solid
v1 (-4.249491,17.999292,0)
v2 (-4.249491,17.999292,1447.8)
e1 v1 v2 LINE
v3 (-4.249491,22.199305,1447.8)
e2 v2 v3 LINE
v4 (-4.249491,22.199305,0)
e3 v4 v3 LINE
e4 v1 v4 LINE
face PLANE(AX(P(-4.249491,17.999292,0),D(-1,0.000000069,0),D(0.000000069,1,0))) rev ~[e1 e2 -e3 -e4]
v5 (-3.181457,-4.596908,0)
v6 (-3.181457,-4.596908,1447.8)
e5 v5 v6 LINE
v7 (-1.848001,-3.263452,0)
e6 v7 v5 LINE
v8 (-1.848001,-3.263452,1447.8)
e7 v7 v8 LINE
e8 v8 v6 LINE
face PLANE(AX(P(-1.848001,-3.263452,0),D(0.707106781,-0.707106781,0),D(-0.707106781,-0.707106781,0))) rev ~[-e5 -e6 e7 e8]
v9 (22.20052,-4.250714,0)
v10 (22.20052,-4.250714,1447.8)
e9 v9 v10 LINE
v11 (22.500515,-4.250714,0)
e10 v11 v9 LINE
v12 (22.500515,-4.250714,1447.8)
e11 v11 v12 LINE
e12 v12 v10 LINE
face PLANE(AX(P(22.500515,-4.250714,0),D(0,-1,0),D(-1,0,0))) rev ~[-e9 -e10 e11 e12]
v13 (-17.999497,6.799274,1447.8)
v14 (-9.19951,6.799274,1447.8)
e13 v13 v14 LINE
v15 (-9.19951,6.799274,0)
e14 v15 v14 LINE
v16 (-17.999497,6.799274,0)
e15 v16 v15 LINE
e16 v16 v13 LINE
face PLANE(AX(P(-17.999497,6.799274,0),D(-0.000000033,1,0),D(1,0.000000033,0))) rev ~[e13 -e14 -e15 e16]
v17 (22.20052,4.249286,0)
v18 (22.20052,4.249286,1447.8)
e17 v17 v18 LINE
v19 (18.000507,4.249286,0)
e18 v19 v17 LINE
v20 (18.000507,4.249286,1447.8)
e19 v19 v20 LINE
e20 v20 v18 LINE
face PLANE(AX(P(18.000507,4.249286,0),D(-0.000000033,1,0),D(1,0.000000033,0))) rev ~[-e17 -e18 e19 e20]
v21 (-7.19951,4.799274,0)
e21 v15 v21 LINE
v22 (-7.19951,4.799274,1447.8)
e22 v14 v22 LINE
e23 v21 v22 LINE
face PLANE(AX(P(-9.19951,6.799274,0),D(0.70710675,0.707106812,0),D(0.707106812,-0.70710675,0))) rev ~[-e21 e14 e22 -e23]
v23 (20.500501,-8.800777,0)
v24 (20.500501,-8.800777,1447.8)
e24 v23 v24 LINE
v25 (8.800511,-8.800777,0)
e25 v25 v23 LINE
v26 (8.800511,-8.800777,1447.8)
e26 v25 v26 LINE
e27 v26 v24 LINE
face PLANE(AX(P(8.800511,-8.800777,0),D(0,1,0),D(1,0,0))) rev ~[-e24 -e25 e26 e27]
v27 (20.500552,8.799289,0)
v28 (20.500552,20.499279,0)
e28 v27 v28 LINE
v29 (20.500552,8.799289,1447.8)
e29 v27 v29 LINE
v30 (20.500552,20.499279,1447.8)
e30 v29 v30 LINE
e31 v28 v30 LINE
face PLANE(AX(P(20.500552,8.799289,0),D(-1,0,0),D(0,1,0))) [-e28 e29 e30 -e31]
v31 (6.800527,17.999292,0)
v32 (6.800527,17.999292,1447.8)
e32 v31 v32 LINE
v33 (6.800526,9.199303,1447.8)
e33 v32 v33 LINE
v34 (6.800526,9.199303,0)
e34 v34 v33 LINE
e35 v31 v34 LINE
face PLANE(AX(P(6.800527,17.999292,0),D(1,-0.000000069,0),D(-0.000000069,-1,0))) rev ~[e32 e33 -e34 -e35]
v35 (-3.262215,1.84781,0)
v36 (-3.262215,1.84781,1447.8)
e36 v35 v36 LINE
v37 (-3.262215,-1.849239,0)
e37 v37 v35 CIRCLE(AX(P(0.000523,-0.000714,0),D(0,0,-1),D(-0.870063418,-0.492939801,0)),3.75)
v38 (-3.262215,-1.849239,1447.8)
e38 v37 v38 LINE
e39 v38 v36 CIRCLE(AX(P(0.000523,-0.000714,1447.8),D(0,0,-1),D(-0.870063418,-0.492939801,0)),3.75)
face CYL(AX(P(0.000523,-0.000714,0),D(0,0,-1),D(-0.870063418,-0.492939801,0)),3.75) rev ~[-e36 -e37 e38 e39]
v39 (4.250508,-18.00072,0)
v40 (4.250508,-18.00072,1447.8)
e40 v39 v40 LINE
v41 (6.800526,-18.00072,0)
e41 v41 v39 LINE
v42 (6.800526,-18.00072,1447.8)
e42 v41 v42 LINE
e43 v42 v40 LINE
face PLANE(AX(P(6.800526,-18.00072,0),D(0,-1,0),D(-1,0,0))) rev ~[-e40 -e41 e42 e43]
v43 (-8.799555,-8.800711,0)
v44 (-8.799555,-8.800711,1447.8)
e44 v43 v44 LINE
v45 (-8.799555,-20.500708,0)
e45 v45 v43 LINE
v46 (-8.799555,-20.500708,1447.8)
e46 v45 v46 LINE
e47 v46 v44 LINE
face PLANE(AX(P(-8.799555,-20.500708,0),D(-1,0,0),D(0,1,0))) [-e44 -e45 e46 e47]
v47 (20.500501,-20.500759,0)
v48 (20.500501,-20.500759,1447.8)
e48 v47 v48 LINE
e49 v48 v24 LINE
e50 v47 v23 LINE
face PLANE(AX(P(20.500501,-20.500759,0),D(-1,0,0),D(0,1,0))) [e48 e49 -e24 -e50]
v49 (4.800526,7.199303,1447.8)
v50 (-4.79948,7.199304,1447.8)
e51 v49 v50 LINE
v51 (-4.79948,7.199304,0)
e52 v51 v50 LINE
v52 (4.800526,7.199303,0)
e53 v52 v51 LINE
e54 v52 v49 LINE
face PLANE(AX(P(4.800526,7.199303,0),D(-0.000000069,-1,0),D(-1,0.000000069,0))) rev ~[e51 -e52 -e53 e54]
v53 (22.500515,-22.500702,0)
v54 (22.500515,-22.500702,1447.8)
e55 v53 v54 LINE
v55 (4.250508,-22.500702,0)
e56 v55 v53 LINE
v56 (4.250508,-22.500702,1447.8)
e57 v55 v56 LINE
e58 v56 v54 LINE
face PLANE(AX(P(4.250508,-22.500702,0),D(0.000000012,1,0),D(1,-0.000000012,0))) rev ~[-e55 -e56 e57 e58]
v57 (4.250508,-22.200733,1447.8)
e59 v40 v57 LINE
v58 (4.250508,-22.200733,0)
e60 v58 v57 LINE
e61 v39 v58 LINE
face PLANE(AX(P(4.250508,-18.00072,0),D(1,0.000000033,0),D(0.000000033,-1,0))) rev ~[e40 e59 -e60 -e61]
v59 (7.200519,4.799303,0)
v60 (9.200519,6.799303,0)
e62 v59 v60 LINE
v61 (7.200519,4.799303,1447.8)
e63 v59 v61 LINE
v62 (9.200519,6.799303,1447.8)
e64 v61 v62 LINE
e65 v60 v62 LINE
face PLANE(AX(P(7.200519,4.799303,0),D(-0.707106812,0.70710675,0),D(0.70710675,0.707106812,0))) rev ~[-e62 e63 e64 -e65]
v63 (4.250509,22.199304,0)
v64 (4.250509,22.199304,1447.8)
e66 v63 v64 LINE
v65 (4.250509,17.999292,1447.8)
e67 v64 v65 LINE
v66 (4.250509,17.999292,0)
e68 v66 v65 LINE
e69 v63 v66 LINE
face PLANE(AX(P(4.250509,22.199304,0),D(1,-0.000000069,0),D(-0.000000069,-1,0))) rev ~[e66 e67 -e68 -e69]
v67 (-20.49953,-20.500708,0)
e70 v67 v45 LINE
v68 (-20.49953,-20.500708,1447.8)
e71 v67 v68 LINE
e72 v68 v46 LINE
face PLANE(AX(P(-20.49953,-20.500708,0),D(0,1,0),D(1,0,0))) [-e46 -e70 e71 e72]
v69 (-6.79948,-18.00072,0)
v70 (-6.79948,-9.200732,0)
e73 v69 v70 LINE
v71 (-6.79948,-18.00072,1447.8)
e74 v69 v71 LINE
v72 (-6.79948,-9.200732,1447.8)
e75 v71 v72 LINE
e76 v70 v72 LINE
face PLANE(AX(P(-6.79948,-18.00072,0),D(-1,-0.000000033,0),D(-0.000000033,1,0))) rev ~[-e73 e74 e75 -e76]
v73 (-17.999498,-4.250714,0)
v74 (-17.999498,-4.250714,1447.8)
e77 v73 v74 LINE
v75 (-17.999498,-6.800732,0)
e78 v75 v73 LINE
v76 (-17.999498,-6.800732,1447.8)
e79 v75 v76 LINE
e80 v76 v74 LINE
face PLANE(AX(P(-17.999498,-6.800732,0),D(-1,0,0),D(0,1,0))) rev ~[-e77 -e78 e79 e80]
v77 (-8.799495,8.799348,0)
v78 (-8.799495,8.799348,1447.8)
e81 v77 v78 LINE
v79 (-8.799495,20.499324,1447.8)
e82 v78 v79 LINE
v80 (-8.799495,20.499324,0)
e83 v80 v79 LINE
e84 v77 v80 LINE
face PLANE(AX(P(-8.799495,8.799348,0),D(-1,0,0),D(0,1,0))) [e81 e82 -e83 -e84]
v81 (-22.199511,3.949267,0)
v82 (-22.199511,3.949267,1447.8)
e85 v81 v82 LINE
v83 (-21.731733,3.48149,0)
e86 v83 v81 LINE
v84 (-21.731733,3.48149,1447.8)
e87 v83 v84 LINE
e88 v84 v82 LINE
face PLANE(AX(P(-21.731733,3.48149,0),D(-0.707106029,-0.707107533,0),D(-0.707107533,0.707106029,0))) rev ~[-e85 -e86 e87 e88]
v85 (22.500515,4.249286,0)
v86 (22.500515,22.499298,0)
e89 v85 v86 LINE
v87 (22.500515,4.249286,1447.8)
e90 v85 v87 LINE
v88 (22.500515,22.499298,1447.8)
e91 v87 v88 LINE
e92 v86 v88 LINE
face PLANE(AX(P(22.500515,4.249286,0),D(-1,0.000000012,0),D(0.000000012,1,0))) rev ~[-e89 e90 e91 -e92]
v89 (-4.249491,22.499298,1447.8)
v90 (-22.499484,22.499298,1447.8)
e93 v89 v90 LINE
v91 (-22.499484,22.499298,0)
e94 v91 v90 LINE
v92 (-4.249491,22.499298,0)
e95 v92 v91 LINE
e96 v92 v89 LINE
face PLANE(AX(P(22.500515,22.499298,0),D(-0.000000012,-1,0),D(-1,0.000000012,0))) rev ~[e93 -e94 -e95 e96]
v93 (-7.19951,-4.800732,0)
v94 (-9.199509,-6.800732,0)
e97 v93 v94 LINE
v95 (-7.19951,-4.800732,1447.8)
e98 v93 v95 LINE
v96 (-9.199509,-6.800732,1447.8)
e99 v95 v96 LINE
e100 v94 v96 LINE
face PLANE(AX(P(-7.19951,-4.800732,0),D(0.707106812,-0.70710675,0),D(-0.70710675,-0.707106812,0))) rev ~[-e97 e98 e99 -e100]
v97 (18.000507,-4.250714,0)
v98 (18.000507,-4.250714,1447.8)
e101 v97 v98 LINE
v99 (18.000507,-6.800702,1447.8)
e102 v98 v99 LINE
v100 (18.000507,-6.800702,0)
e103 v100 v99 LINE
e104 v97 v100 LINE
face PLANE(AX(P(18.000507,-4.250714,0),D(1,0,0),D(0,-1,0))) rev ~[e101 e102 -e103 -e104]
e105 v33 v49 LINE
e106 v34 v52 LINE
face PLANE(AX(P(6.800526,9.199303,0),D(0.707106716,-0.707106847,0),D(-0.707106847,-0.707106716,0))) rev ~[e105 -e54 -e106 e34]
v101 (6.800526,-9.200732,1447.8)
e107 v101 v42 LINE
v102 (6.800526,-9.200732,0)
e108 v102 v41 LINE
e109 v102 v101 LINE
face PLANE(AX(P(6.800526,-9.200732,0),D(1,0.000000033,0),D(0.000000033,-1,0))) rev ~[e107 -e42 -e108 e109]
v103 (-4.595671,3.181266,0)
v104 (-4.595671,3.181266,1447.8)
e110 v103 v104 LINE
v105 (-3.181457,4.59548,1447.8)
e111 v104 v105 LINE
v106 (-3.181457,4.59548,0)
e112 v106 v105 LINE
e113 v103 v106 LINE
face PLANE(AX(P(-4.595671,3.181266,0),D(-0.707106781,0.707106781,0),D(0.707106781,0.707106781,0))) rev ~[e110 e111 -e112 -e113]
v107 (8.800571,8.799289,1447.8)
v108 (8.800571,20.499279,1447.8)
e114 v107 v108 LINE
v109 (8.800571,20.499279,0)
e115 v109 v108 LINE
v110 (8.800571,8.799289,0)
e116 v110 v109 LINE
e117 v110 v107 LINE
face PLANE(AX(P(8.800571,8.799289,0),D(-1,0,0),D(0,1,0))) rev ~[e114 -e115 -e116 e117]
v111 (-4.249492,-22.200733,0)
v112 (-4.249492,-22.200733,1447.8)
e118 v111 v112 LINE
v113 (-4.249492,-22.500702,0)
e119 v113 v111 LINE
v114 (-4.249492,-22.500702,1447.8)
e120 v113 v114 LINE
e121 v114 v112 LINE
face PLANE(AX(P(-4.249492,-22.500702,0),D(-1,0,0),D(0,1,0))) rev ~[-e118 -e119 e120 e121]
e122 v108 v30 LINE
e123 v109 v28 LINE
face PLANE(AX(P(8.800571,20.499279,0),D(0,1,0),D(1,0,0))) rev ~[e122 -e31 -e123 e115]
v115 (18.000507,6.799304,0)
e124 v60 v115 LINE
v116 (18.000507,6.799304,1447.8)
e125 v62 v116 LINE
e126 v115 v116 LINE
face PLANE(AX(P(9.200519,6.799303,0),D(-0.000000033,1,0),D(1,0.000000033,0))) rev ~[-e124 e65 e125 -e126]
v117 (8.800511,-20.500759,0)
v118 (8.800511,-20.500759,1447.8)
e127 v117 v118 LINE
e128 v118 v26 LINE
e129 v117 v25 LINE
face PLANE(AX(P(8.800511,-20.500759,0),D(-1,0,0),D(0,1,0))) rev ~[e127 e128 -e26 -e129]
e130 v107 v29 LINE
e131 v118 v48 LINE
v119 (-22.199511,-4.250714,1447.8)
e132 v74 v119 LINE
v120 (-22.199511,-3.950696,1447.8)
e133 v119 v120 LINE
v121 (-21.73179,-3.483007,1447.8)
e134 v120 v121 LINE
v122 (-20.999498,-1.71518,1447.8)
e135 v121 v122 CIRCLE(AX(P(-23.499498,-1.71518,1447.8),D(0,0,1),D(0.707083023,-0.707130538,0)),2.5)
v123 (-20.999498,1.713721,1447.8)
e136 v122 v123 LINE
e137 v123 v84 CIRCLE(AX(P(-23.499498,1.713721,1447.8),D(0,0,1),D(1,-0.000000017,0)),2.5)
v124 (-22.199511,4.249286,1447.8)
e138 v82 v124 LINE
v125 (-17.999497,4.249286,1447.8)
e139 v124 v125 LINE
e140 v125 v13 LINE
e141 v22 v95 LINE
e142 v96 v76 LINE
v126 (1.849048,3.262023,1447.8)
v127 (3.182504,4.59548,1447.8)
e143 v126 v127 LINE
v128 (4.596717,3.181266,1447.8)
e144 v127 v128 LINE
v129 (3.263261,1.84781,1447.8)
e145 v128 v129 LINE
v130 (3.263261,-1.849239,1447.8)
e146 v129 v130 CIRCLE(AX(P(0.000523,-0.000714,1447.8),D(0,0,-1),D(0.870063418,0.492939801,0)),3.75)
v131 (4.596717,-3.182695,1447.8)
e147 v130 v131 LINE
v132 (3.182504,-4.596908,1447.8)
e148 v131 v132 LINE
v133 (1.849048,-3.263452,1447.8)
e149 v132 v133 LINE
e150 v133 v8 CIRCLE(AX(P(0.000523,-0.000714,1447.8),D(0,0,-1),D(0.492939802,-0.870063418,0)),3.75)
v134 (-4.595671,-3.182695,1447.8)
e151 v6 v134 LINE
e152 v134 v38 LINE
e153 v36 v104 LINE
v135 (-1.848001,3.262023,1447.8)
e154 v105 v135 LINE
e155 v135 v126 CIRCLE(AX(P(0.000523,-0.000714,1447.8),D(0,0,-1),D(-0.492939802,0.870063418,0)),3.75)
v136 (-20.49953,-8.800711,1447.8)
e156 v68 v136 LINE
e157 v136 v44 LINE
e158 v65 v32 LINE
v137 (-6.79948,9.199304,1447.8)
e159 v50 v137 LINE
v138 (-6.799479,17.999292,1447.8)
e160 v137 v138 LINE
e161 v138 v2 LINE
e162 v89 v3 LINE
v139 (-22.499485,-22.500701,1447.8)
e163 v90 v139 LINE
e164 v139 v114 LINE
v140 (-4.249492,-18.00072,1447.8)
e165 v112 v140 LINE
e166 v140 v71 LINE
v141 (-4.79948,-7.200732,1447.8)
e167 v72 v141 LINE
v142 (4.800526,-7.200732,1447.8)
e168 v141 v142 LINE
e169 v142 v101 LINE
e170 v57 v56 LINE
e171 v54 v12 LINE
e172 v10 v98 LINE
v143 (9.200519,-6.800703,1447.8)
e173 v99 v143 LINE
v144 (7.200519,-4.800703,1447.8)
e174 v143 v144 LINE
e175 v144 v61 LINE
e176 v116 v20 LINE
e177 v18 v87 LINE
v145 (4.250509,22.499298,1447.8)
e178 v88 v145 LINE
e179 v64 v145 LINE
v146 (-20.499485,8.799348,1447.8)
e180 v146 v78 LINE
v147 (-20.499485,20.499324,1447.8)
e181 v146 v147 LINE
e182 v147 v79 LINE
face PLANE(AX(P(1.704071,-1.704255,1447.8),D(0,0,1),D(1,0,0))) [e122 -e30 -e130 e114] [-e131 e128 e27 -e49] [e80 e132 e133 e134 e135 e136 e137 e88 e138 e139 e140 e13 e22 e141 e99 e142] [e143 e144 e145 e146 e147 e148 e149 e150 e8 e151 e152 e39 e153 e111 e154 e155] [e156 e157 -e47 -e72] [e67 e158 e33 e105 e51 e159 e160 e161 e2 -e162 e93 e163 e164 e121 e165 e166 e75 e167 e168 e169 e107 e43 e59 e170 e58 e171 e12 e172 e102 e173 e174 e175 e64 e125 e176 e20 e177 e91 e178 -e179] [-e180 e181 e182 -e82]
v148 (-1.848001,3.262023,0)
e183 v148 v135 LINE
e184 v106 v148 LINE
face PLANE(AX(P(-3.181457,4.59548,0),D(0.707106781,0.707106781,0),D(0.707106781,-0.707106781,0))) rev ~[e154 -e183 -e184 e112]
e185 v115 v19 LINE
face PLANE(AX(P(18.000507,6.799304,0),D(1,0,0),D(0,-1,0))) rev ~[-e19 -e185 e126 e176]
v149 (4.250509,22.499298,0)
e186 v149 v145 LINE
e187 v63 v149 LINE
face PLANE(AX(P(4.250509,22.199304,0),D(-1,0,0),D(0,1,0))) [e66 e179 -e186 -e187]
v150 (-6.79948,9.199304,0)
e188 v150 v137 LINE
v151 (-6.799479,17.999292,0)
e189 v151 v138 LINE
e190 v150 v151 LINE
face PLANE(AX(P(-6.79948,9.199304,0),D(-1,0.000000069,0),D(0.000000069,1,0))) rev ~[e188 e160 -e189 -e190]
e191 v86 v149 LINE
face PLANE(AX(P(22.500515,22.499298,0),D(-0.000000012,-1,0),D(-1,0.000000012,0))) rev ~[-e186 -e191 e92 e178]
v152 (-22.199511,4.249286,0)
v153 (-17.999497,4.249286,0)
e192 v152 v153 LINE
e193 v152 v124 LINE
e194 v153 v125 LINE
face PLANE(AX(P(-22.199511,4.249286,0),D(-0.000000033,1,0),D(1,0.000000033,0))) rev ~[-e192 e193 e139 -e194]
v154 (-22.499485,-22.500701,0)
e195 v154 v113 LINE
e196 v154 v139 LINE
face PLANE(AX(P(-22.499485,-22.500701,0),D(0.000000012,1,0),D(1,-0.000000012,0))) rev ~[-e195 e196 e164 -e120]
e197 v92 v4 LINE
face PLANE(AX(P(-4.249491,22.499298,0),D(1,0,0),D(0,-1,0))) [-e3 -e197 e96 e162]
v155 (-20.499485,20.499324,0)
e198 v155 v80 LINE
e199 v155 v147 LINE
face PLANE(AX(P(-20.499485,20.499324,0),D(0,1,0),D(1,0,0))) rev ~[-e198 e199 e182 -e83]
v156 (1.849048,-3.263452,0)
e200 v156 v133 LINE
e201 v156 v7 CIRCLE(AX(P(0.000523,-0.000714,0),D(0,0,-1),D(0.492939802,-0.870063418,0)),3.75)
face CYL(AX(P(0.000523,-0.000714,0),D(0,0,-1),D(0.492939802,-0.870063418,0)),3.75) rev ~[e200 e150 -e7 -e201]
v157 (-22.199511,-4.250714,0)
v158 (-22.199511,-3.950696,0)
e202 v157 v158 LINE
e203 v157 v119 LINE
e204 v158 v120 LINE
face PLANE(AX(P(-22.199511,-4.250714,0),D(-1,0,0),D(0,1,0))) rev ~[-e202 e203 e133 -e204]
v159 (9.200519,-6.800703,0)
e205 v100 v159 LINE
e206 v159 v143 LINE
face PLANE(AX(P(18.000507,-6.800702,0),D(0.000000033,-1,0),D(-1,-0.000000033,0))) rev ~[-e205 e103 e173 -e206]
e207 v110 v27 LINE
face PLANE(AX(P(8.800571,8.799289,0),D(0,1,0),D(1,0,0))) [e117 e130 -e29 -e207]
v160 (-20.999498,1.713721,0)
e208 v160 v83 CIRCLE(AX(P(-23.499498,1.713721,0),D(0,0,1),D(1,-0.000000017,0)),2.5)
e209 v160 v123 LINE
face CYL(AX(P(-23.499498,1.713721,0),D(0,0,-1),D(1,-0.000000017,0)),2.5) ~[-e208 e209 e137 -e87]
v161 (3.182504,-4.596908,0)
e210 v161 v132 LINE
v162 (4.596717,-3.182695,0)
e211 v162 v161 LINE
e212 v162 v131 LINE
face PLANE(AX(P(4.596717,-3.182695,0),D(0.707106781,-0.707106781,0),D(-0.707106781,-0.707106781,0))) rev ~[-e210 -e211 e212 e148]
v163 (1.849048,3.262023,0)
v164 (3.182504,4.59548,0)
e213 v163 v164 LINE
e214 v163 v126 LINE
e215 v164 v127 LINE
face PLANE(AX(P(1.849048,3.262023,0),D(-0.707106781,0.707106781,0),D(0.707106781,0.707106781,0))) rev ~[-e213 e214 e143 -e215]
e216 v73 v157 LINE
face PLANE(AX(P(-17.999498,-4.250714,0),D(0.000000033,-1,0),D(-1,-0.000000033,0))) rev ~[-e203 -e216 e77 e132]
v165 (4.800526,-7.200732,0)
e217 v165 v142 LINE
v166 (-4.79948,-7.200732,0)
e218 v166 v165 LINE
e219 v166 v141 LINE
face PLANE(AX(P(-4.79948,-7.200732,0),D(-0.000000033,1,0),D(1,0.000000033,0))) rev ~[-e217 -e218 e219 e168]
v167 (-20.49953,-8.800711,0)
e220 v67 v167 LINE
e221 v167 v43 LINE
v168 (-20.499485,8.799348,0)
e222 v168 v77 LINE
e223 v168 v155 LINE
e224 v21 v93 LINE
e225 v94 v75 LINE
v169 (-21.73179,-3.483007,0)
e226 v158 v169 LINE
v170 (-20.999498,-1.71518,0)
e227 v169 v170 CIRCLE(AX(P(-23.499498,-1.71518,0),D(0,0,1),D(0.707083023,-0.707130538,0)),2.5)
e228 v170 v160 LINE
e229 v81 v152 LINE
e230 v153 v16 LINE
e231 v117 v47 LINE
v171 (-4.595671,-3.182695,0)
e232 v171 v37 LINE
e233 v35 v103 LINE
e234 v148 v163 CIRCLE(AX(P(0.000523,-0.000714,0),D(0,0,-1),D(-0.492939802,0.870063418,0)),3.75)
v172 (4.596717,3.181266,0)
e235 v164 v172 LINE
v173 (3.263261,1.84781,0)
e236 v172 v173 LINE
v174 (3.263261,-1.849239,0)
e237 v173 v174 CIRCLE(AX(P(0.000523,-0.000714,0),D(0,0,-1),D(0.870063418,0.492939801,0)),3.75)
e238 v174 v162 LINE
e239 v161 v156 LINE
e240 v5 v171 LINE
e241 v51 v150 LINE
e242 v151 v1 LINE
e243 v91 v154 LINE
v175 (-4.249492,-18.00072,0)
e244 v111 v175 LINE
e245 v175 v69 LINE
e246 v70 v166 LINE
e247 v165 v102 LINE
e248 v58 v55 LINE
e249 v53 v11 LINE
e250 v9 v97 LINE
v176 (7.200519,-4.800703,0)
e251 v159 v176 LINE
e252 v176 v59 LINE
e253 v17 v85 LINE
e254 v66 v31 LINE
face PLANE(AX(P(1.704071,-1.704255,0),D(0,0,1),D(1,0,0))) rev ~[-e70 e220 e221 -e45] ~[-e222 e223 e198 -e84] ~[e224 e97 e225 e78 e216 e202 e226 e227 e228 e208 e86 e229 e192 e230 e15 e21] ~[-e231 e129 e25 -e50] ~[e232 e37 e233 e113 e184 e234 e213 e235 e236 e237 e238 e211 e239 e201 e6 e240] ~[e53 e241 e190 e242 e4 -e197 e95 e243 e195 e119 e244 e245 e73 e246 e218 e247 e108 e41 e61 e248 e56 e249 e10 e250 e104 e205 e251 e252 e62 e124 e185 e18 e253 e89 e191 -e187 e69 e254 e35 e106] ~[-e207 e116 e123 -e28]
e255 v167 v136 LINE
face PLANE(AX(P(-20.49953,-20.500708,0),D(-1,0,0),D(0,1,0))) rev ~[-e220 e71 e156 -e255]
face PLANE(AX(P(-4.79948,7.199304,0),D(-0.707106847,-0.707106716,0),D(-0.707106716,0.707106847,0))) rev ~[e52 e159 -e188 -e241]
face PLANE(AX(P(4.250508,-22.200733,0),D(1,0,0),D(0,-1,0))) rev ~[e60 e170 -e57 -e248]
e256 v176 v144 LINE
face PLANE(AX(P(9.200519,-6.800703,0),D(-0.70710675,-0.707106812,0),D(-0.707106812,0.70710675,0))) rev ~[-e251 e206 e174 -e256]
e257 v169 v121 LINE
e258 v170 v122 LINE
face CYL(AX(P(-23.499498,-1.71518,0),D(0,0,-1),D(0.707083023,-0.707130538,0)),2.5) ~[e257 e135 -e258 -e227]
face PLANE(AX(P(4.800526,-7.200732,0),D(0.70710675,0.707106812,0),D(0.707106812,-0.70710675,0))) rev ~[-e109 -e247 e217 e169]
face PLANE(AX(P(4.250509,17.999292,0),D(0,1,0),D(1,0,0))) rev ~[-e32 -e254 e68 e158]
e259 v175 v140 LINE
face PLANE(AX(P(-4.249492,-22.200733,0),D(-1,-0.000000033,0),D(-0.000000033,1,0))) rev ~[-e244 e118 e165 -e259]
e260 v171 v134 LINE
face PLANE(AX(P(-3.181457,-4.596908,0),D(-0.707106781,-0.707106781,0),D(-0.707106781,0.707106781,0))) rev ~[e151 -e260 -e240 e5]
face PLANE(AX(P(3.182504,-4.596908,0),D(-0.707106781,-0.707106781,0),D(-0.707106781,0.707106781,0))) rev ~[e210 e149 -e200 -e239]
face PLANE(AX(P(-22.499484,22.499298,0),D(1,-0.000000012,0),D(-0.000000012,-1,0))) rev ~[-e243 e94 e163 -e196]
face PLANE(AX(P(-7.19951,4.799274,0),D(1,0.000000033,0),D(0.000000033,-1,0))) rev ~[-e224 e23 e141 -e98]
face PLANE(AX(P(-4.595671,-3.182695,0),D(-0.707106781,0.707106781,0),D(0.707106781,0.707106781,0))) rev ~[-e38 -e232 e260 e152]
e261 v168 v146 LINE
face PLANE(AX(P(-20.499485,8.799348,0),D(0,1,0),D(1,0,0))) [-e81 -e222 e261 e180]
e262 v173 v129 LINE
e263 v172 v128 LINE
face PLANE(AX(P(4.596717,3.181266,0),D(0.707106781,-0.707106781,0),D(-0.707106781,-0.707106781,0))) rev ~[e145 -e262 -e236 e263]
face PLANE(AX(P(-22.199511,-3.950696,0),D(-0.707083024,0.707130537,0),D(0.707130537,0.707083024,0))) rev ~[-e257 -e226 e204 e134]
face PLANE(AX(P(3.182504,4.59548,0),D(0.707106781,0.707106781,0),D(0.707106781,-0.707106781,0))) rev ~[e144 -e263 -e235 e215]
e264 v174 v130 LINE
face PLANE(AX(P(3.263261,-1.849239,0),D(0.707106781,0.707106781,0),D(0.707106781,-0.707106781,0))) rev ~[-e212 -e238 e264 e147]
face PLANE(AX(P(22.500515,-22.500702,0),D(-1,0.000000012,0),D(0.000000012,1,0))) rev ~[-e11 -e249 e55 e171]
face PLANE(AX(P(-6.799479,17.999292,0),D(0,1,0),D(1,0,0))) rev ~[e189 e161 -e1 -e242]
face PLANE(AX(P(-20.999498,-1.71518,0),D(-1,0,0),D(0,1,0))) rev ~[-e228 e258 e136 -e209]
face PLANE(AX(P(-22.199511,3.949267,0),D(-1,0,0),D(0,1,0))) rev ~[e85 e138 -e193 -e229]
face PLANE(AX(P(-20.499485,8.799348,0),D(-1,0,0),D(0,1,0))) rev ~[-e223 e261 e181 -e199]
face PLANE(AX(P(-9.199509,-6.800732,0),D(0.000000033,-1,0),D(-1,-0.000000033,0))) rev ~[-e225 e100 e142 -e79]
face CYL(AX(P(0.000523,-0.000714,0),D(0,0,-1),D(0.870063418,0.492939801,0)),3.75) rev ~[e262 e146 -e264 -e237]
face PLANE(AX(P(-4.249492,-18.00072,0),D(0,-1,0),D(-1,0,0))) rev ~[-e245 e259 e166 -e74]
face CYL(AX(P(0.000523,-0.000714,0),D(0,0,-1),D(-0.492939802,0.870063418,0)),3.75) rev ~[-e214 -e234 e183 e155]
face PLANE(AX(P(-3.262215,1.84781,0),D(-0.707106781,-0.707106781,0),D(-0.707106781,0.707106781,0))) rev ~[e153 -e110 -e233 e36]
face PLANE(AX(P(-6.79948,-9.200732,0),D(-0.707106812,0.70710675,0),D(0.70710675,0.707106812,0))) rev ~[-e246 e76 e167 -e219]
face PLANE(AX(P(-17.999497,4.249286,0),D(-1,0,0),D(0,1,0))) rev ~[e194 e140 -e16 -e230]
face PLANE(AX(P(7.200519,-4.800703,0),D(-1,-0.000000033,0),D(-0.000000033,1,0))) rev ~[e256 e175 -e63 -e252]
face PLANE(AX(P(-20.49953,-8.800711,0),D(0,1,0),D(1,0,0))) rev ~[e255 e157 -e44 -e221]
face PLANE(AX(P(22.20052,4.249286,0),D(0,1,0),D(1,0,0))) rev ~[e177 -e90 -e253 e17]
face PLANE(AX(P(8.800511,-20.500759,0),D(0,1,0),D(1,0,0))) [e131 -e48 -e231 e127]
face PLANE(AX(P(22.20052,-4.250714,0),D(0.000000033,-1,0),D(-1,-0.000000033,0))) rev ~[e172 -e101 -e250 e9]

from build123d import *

# Parameters (mm, degrees)
SKETCH1_W           = 11.699975178
SKETCH1_H           = 11.699996949
SKETCH1_W_2         = 11.699990436
SKETCH1_H_2         = 11.699981689
SKETCH1_W_3         = 11.699990437
SKETCH1_H_3         = 11.699975177
SKETCH1_W_4         = 11.699981689
SKETCH1_H_4         = 11.699990436
BOSS_EXTRUDE1_DEPTH = 1447.8
CUT_EXTRUDE1_REACH  = 1450.15


with BuildPart() as part:
    # Sketch1 → Boss-Extrude1 (new body)
    with BuildSketch(Plane.XY):
        Polygon((22.500515052, 22.499297556), (-22.499484399, 22.499298105), (-22.499484948, -22.500701346), (-4.249491942, -22.500701568), (-4.249491942, -22.200733242), (-4.24949208, -18.000719999), (-6.799479919, -18.000719999), (-6.799480207, -9.200732353), (-4.799480391, -7.200732362), (4.800525817, -7.200732047), (6.8005258, -9.200731855), (6.800526088, -18.000720263), (4.250507877, -18.000720263), (4.250508015, -22.200733153), (4.250508015, -22.500701672), (22.500514502, -22.500701895), (22.500514725, -4.250714302), (22.200520351, -4.250714302), (18.000507108, -4.25071444), (18.000507108, -6.800702279), (9.200519462, -6.800702567), (7.200519471, -4.800702751), (7.200519156, 4.799303458), (9.200518964, 6.79930344), (18.000507424, 6.799303729), (18.000507424, 4.249285514), (22.200520261, 4.249285652), (22.500514829, 4.249285652), align=None)
        with BuildLine():
            Line((-4.249491247, 17.999291576), (-4.249490956, 22.199304807))
            Line((-4.249490956, 22.199304807), (-3.949472548, 22.199304807))
            Line((-3.949472548, 22.199304807), (-3.481695222, 21.73152644))
            ThreePointArc((-3.481695222, 21.73152644), (-2.670636178, 21.189593132), (-1.713926324, 20.999291428))
            Line((-1.713926324, 20.999291428), (1.714975167, 20.999291428))
            ThreePointArc((1.714975167, 20.999291428), (2.671722509, 21.189608628), (3.482801459, 21.731583767))
            Line((3.482801459, 21.731583767), (3.950490798, 22.199304487))
            Line((3.950490798, 22.199304487), (4.250509108, 22.199304487))
            Line((4.250509108, 22.199304487), (4.250508817, 17.999291575))
            Line((4.250508817, 17.999291575), (6.800527063, 17.999291575))
            Line((6.800527063, 17.999291575), (6.800526453, 9.199302988))
            Line((6.800526453, 9.199302988), (4.800526064, 7.199302969))
            Line((4.800526064, 7.199302969), (-4.799479817, 7.199303635))
            Line((-4.799479817, 7.199303635), (-6.799479854, 9.199304042))
            Line((-6.799479854, 9.199304042), (-6.799479244, 17.999291576))
            Line((-6.799479244, 17.999291576), (-4.249491247, 17.999291576))
        make_face(mode=Mode.SUBTRACT)
        with BuildLine():
            Line((-17.99949762, -4.250714253), (-22.199510799, -4.250714391))
            Line((-22.199510799, -4.250714391), (-22.199510799, -3.950696126))
            Line((-22.199510799, -3.950696126), (-21.731790056, -3.48300681))
            ThreePointArc((-21.731790056, -3.48300681), (-21.189814855, -2.671927844), (-20.999497617, -1.71518046))
            Line((-20.999497617, -1.71518046), (-20.999497617, 1.713721031))
            ThreePointArc((-20.999497617, 1.713721031), (-21.189799286, 2.670430863), (-21.731732544, 3.481489907))
            Line((-21.731732544, 3.481489907), (-22.199510888, 3.949267256))
            Line((-22.199510888, 3.949267256), (-22.199510888, 4.249285566))
            Line((-22.199510888, 4.249285566), (-17.999497356, 4.249285704))
            Line((-17.999497356, 4.249285704), (-17.999497356, 6.79927354))
            Line((-17.999497356, 6.79927354), (-9.199509947, 6.799273828))
            Line((-9.199509947, 6.799273828), (-7.199509956, 4.799274012))
            Line((-7.199509956, 4.799274012), (-7.199509641, -4.800732197))
            Line((-7.199509641, -4.800732197), (-9.199509449, -6.800732179))
            Line((-9.199509449, -6.800732179), (-17.99949762, -6.800732468))
            Line((-17.99949762, -6.800732468), (-17.99949762, -4.250714253))
        make_face(mode=Mode.SUBTRACT)
        with Locations((-14.649542346, -14.650709384)):
            Rectangle(SKETCH1_W, SKETCH1_H, mode=Mode.SUBTRACT)
        with Locations((14.65050626, -14.650767962)):
            Rectangle(SKETCH1_W_2, SKETCH1_H_2, mode=Mode.SUBTRACT)
        with BuildLine():
            Line((-3.181457266, -4.596908447), (-4.595670829, -3.182694885))
            Line((-4.595670829, -3.182694885), (-3.26221457, -1.849238626))
            ThreePointArc((-3.26221457, -1.849238626), (-3.749476751, -0.00071437), (-3.26221457, 1.847809887))
            Line((-3.26221457, 1.847809887), (-4.595670829, 3.181266146))
            Line((-4.595670829, 3.181266146), (-3.181457266, 4.595479708))
            Line((-3.181457266, 4.595479708), (-1.848001007, 3.262023449))
            ThreePointArc((-1.848001007, 3.262023449), (0.000523249, 3.74928563), (1.849047505, 3.262023449))
            Line((1.849047505, 3.262023449), (3.182503764, 4.595479708))
            Line((3.182503764, 4.595479708), (4.596717327, 3.181266146))
            Line((4.596717327, 3.181266146), (3.263261068, 1.847809887))
            ThreePointArc((3.263261068, 1.847809887), (3.750523249, -0.00071437), (3.263261068, -1.849238626))
            Line((3.263261068, -1.849238626), (4.596717327, -3.182694885))
            Line((4.596717327, -3.182694885), (3.182503764, -4.596908447))
            Line((3.182503764, -4.596908447), (1.849047505, -3.263452188))
            ThreePointArc((1.849047505, -3.263452188), (0.000523249, -3.75071437), (-1.848001007, -3.263452188))
            Line((-1.848001007, -3.263452188), (-3.181457266, -4.596908447))
        make_face(mode=Mode.SUBTRACT)
        with Locations((-14.64949028, 14.649335967)):
            Rectangle(SKETCH1_W_3, SKETCH1_H_3, mode=Mode.SUBTRACT)
        with Locations((14.650561583, 14.6492839)):
            Rectangle(SKETCH1_W_4, SKETCH1_H_4, mode=Mode.SUBTRACT)
    extrude(amount=BOSS_EXTRUDE1_DEPTH)

    # Sketch1<4> → Cut-Extrude1 (cut, up to next)
    with BuildSketch(Plane.XY, mode=Mode.PRIVATE) as cut_extrude1_sk1:
        with BuildLine():
            Line((-4.249490956, 22.499297883), (-4.249490956, 22.199304807))
            Line((-4.249490956, 22.199304807), (-3.949472548, 22.199304807))
            Line((-3.949472548, 22.199304807), (-3.481695222, 21.73152644))
            ThreePointArc((-3.481695222, 21.73152644), (-2.670636178, 21.189593132), (-1.713926324, 20.999291428))
            Line((-1.713926324, 20.999291428), (1.714975167, 20.999291428))
            ThreePointArc((1.714975167, 20.999291428), (2.671722509, 21.189608628), (3.482801459, 21.731583767))
            Line((3.482801459, 21.731583767), (3.950490798, 22.199304487))
            Line((3.950490798, 22.199304487), (4.250509108, 22.199304487))
            Line((4.250509108, 22.199304487), (4.250509108, 22.499297779))
            Line((4.250509108, 22.499297779), (-4.249490956, 22.499297883))
        make_face()
    cut_extrude1_tool1 = extrude(cut_extrude1_sk1.sketch, amount=CUT_EXTRUDE1_REACH, mode=Mode.PRIVATE) & part.part
    add(cut_extrude1_tool1.solids().sort_by_distance((0.000518, 21.824215, 0))[0], mode=Mode.SUBTRACT)


solid = part.part
